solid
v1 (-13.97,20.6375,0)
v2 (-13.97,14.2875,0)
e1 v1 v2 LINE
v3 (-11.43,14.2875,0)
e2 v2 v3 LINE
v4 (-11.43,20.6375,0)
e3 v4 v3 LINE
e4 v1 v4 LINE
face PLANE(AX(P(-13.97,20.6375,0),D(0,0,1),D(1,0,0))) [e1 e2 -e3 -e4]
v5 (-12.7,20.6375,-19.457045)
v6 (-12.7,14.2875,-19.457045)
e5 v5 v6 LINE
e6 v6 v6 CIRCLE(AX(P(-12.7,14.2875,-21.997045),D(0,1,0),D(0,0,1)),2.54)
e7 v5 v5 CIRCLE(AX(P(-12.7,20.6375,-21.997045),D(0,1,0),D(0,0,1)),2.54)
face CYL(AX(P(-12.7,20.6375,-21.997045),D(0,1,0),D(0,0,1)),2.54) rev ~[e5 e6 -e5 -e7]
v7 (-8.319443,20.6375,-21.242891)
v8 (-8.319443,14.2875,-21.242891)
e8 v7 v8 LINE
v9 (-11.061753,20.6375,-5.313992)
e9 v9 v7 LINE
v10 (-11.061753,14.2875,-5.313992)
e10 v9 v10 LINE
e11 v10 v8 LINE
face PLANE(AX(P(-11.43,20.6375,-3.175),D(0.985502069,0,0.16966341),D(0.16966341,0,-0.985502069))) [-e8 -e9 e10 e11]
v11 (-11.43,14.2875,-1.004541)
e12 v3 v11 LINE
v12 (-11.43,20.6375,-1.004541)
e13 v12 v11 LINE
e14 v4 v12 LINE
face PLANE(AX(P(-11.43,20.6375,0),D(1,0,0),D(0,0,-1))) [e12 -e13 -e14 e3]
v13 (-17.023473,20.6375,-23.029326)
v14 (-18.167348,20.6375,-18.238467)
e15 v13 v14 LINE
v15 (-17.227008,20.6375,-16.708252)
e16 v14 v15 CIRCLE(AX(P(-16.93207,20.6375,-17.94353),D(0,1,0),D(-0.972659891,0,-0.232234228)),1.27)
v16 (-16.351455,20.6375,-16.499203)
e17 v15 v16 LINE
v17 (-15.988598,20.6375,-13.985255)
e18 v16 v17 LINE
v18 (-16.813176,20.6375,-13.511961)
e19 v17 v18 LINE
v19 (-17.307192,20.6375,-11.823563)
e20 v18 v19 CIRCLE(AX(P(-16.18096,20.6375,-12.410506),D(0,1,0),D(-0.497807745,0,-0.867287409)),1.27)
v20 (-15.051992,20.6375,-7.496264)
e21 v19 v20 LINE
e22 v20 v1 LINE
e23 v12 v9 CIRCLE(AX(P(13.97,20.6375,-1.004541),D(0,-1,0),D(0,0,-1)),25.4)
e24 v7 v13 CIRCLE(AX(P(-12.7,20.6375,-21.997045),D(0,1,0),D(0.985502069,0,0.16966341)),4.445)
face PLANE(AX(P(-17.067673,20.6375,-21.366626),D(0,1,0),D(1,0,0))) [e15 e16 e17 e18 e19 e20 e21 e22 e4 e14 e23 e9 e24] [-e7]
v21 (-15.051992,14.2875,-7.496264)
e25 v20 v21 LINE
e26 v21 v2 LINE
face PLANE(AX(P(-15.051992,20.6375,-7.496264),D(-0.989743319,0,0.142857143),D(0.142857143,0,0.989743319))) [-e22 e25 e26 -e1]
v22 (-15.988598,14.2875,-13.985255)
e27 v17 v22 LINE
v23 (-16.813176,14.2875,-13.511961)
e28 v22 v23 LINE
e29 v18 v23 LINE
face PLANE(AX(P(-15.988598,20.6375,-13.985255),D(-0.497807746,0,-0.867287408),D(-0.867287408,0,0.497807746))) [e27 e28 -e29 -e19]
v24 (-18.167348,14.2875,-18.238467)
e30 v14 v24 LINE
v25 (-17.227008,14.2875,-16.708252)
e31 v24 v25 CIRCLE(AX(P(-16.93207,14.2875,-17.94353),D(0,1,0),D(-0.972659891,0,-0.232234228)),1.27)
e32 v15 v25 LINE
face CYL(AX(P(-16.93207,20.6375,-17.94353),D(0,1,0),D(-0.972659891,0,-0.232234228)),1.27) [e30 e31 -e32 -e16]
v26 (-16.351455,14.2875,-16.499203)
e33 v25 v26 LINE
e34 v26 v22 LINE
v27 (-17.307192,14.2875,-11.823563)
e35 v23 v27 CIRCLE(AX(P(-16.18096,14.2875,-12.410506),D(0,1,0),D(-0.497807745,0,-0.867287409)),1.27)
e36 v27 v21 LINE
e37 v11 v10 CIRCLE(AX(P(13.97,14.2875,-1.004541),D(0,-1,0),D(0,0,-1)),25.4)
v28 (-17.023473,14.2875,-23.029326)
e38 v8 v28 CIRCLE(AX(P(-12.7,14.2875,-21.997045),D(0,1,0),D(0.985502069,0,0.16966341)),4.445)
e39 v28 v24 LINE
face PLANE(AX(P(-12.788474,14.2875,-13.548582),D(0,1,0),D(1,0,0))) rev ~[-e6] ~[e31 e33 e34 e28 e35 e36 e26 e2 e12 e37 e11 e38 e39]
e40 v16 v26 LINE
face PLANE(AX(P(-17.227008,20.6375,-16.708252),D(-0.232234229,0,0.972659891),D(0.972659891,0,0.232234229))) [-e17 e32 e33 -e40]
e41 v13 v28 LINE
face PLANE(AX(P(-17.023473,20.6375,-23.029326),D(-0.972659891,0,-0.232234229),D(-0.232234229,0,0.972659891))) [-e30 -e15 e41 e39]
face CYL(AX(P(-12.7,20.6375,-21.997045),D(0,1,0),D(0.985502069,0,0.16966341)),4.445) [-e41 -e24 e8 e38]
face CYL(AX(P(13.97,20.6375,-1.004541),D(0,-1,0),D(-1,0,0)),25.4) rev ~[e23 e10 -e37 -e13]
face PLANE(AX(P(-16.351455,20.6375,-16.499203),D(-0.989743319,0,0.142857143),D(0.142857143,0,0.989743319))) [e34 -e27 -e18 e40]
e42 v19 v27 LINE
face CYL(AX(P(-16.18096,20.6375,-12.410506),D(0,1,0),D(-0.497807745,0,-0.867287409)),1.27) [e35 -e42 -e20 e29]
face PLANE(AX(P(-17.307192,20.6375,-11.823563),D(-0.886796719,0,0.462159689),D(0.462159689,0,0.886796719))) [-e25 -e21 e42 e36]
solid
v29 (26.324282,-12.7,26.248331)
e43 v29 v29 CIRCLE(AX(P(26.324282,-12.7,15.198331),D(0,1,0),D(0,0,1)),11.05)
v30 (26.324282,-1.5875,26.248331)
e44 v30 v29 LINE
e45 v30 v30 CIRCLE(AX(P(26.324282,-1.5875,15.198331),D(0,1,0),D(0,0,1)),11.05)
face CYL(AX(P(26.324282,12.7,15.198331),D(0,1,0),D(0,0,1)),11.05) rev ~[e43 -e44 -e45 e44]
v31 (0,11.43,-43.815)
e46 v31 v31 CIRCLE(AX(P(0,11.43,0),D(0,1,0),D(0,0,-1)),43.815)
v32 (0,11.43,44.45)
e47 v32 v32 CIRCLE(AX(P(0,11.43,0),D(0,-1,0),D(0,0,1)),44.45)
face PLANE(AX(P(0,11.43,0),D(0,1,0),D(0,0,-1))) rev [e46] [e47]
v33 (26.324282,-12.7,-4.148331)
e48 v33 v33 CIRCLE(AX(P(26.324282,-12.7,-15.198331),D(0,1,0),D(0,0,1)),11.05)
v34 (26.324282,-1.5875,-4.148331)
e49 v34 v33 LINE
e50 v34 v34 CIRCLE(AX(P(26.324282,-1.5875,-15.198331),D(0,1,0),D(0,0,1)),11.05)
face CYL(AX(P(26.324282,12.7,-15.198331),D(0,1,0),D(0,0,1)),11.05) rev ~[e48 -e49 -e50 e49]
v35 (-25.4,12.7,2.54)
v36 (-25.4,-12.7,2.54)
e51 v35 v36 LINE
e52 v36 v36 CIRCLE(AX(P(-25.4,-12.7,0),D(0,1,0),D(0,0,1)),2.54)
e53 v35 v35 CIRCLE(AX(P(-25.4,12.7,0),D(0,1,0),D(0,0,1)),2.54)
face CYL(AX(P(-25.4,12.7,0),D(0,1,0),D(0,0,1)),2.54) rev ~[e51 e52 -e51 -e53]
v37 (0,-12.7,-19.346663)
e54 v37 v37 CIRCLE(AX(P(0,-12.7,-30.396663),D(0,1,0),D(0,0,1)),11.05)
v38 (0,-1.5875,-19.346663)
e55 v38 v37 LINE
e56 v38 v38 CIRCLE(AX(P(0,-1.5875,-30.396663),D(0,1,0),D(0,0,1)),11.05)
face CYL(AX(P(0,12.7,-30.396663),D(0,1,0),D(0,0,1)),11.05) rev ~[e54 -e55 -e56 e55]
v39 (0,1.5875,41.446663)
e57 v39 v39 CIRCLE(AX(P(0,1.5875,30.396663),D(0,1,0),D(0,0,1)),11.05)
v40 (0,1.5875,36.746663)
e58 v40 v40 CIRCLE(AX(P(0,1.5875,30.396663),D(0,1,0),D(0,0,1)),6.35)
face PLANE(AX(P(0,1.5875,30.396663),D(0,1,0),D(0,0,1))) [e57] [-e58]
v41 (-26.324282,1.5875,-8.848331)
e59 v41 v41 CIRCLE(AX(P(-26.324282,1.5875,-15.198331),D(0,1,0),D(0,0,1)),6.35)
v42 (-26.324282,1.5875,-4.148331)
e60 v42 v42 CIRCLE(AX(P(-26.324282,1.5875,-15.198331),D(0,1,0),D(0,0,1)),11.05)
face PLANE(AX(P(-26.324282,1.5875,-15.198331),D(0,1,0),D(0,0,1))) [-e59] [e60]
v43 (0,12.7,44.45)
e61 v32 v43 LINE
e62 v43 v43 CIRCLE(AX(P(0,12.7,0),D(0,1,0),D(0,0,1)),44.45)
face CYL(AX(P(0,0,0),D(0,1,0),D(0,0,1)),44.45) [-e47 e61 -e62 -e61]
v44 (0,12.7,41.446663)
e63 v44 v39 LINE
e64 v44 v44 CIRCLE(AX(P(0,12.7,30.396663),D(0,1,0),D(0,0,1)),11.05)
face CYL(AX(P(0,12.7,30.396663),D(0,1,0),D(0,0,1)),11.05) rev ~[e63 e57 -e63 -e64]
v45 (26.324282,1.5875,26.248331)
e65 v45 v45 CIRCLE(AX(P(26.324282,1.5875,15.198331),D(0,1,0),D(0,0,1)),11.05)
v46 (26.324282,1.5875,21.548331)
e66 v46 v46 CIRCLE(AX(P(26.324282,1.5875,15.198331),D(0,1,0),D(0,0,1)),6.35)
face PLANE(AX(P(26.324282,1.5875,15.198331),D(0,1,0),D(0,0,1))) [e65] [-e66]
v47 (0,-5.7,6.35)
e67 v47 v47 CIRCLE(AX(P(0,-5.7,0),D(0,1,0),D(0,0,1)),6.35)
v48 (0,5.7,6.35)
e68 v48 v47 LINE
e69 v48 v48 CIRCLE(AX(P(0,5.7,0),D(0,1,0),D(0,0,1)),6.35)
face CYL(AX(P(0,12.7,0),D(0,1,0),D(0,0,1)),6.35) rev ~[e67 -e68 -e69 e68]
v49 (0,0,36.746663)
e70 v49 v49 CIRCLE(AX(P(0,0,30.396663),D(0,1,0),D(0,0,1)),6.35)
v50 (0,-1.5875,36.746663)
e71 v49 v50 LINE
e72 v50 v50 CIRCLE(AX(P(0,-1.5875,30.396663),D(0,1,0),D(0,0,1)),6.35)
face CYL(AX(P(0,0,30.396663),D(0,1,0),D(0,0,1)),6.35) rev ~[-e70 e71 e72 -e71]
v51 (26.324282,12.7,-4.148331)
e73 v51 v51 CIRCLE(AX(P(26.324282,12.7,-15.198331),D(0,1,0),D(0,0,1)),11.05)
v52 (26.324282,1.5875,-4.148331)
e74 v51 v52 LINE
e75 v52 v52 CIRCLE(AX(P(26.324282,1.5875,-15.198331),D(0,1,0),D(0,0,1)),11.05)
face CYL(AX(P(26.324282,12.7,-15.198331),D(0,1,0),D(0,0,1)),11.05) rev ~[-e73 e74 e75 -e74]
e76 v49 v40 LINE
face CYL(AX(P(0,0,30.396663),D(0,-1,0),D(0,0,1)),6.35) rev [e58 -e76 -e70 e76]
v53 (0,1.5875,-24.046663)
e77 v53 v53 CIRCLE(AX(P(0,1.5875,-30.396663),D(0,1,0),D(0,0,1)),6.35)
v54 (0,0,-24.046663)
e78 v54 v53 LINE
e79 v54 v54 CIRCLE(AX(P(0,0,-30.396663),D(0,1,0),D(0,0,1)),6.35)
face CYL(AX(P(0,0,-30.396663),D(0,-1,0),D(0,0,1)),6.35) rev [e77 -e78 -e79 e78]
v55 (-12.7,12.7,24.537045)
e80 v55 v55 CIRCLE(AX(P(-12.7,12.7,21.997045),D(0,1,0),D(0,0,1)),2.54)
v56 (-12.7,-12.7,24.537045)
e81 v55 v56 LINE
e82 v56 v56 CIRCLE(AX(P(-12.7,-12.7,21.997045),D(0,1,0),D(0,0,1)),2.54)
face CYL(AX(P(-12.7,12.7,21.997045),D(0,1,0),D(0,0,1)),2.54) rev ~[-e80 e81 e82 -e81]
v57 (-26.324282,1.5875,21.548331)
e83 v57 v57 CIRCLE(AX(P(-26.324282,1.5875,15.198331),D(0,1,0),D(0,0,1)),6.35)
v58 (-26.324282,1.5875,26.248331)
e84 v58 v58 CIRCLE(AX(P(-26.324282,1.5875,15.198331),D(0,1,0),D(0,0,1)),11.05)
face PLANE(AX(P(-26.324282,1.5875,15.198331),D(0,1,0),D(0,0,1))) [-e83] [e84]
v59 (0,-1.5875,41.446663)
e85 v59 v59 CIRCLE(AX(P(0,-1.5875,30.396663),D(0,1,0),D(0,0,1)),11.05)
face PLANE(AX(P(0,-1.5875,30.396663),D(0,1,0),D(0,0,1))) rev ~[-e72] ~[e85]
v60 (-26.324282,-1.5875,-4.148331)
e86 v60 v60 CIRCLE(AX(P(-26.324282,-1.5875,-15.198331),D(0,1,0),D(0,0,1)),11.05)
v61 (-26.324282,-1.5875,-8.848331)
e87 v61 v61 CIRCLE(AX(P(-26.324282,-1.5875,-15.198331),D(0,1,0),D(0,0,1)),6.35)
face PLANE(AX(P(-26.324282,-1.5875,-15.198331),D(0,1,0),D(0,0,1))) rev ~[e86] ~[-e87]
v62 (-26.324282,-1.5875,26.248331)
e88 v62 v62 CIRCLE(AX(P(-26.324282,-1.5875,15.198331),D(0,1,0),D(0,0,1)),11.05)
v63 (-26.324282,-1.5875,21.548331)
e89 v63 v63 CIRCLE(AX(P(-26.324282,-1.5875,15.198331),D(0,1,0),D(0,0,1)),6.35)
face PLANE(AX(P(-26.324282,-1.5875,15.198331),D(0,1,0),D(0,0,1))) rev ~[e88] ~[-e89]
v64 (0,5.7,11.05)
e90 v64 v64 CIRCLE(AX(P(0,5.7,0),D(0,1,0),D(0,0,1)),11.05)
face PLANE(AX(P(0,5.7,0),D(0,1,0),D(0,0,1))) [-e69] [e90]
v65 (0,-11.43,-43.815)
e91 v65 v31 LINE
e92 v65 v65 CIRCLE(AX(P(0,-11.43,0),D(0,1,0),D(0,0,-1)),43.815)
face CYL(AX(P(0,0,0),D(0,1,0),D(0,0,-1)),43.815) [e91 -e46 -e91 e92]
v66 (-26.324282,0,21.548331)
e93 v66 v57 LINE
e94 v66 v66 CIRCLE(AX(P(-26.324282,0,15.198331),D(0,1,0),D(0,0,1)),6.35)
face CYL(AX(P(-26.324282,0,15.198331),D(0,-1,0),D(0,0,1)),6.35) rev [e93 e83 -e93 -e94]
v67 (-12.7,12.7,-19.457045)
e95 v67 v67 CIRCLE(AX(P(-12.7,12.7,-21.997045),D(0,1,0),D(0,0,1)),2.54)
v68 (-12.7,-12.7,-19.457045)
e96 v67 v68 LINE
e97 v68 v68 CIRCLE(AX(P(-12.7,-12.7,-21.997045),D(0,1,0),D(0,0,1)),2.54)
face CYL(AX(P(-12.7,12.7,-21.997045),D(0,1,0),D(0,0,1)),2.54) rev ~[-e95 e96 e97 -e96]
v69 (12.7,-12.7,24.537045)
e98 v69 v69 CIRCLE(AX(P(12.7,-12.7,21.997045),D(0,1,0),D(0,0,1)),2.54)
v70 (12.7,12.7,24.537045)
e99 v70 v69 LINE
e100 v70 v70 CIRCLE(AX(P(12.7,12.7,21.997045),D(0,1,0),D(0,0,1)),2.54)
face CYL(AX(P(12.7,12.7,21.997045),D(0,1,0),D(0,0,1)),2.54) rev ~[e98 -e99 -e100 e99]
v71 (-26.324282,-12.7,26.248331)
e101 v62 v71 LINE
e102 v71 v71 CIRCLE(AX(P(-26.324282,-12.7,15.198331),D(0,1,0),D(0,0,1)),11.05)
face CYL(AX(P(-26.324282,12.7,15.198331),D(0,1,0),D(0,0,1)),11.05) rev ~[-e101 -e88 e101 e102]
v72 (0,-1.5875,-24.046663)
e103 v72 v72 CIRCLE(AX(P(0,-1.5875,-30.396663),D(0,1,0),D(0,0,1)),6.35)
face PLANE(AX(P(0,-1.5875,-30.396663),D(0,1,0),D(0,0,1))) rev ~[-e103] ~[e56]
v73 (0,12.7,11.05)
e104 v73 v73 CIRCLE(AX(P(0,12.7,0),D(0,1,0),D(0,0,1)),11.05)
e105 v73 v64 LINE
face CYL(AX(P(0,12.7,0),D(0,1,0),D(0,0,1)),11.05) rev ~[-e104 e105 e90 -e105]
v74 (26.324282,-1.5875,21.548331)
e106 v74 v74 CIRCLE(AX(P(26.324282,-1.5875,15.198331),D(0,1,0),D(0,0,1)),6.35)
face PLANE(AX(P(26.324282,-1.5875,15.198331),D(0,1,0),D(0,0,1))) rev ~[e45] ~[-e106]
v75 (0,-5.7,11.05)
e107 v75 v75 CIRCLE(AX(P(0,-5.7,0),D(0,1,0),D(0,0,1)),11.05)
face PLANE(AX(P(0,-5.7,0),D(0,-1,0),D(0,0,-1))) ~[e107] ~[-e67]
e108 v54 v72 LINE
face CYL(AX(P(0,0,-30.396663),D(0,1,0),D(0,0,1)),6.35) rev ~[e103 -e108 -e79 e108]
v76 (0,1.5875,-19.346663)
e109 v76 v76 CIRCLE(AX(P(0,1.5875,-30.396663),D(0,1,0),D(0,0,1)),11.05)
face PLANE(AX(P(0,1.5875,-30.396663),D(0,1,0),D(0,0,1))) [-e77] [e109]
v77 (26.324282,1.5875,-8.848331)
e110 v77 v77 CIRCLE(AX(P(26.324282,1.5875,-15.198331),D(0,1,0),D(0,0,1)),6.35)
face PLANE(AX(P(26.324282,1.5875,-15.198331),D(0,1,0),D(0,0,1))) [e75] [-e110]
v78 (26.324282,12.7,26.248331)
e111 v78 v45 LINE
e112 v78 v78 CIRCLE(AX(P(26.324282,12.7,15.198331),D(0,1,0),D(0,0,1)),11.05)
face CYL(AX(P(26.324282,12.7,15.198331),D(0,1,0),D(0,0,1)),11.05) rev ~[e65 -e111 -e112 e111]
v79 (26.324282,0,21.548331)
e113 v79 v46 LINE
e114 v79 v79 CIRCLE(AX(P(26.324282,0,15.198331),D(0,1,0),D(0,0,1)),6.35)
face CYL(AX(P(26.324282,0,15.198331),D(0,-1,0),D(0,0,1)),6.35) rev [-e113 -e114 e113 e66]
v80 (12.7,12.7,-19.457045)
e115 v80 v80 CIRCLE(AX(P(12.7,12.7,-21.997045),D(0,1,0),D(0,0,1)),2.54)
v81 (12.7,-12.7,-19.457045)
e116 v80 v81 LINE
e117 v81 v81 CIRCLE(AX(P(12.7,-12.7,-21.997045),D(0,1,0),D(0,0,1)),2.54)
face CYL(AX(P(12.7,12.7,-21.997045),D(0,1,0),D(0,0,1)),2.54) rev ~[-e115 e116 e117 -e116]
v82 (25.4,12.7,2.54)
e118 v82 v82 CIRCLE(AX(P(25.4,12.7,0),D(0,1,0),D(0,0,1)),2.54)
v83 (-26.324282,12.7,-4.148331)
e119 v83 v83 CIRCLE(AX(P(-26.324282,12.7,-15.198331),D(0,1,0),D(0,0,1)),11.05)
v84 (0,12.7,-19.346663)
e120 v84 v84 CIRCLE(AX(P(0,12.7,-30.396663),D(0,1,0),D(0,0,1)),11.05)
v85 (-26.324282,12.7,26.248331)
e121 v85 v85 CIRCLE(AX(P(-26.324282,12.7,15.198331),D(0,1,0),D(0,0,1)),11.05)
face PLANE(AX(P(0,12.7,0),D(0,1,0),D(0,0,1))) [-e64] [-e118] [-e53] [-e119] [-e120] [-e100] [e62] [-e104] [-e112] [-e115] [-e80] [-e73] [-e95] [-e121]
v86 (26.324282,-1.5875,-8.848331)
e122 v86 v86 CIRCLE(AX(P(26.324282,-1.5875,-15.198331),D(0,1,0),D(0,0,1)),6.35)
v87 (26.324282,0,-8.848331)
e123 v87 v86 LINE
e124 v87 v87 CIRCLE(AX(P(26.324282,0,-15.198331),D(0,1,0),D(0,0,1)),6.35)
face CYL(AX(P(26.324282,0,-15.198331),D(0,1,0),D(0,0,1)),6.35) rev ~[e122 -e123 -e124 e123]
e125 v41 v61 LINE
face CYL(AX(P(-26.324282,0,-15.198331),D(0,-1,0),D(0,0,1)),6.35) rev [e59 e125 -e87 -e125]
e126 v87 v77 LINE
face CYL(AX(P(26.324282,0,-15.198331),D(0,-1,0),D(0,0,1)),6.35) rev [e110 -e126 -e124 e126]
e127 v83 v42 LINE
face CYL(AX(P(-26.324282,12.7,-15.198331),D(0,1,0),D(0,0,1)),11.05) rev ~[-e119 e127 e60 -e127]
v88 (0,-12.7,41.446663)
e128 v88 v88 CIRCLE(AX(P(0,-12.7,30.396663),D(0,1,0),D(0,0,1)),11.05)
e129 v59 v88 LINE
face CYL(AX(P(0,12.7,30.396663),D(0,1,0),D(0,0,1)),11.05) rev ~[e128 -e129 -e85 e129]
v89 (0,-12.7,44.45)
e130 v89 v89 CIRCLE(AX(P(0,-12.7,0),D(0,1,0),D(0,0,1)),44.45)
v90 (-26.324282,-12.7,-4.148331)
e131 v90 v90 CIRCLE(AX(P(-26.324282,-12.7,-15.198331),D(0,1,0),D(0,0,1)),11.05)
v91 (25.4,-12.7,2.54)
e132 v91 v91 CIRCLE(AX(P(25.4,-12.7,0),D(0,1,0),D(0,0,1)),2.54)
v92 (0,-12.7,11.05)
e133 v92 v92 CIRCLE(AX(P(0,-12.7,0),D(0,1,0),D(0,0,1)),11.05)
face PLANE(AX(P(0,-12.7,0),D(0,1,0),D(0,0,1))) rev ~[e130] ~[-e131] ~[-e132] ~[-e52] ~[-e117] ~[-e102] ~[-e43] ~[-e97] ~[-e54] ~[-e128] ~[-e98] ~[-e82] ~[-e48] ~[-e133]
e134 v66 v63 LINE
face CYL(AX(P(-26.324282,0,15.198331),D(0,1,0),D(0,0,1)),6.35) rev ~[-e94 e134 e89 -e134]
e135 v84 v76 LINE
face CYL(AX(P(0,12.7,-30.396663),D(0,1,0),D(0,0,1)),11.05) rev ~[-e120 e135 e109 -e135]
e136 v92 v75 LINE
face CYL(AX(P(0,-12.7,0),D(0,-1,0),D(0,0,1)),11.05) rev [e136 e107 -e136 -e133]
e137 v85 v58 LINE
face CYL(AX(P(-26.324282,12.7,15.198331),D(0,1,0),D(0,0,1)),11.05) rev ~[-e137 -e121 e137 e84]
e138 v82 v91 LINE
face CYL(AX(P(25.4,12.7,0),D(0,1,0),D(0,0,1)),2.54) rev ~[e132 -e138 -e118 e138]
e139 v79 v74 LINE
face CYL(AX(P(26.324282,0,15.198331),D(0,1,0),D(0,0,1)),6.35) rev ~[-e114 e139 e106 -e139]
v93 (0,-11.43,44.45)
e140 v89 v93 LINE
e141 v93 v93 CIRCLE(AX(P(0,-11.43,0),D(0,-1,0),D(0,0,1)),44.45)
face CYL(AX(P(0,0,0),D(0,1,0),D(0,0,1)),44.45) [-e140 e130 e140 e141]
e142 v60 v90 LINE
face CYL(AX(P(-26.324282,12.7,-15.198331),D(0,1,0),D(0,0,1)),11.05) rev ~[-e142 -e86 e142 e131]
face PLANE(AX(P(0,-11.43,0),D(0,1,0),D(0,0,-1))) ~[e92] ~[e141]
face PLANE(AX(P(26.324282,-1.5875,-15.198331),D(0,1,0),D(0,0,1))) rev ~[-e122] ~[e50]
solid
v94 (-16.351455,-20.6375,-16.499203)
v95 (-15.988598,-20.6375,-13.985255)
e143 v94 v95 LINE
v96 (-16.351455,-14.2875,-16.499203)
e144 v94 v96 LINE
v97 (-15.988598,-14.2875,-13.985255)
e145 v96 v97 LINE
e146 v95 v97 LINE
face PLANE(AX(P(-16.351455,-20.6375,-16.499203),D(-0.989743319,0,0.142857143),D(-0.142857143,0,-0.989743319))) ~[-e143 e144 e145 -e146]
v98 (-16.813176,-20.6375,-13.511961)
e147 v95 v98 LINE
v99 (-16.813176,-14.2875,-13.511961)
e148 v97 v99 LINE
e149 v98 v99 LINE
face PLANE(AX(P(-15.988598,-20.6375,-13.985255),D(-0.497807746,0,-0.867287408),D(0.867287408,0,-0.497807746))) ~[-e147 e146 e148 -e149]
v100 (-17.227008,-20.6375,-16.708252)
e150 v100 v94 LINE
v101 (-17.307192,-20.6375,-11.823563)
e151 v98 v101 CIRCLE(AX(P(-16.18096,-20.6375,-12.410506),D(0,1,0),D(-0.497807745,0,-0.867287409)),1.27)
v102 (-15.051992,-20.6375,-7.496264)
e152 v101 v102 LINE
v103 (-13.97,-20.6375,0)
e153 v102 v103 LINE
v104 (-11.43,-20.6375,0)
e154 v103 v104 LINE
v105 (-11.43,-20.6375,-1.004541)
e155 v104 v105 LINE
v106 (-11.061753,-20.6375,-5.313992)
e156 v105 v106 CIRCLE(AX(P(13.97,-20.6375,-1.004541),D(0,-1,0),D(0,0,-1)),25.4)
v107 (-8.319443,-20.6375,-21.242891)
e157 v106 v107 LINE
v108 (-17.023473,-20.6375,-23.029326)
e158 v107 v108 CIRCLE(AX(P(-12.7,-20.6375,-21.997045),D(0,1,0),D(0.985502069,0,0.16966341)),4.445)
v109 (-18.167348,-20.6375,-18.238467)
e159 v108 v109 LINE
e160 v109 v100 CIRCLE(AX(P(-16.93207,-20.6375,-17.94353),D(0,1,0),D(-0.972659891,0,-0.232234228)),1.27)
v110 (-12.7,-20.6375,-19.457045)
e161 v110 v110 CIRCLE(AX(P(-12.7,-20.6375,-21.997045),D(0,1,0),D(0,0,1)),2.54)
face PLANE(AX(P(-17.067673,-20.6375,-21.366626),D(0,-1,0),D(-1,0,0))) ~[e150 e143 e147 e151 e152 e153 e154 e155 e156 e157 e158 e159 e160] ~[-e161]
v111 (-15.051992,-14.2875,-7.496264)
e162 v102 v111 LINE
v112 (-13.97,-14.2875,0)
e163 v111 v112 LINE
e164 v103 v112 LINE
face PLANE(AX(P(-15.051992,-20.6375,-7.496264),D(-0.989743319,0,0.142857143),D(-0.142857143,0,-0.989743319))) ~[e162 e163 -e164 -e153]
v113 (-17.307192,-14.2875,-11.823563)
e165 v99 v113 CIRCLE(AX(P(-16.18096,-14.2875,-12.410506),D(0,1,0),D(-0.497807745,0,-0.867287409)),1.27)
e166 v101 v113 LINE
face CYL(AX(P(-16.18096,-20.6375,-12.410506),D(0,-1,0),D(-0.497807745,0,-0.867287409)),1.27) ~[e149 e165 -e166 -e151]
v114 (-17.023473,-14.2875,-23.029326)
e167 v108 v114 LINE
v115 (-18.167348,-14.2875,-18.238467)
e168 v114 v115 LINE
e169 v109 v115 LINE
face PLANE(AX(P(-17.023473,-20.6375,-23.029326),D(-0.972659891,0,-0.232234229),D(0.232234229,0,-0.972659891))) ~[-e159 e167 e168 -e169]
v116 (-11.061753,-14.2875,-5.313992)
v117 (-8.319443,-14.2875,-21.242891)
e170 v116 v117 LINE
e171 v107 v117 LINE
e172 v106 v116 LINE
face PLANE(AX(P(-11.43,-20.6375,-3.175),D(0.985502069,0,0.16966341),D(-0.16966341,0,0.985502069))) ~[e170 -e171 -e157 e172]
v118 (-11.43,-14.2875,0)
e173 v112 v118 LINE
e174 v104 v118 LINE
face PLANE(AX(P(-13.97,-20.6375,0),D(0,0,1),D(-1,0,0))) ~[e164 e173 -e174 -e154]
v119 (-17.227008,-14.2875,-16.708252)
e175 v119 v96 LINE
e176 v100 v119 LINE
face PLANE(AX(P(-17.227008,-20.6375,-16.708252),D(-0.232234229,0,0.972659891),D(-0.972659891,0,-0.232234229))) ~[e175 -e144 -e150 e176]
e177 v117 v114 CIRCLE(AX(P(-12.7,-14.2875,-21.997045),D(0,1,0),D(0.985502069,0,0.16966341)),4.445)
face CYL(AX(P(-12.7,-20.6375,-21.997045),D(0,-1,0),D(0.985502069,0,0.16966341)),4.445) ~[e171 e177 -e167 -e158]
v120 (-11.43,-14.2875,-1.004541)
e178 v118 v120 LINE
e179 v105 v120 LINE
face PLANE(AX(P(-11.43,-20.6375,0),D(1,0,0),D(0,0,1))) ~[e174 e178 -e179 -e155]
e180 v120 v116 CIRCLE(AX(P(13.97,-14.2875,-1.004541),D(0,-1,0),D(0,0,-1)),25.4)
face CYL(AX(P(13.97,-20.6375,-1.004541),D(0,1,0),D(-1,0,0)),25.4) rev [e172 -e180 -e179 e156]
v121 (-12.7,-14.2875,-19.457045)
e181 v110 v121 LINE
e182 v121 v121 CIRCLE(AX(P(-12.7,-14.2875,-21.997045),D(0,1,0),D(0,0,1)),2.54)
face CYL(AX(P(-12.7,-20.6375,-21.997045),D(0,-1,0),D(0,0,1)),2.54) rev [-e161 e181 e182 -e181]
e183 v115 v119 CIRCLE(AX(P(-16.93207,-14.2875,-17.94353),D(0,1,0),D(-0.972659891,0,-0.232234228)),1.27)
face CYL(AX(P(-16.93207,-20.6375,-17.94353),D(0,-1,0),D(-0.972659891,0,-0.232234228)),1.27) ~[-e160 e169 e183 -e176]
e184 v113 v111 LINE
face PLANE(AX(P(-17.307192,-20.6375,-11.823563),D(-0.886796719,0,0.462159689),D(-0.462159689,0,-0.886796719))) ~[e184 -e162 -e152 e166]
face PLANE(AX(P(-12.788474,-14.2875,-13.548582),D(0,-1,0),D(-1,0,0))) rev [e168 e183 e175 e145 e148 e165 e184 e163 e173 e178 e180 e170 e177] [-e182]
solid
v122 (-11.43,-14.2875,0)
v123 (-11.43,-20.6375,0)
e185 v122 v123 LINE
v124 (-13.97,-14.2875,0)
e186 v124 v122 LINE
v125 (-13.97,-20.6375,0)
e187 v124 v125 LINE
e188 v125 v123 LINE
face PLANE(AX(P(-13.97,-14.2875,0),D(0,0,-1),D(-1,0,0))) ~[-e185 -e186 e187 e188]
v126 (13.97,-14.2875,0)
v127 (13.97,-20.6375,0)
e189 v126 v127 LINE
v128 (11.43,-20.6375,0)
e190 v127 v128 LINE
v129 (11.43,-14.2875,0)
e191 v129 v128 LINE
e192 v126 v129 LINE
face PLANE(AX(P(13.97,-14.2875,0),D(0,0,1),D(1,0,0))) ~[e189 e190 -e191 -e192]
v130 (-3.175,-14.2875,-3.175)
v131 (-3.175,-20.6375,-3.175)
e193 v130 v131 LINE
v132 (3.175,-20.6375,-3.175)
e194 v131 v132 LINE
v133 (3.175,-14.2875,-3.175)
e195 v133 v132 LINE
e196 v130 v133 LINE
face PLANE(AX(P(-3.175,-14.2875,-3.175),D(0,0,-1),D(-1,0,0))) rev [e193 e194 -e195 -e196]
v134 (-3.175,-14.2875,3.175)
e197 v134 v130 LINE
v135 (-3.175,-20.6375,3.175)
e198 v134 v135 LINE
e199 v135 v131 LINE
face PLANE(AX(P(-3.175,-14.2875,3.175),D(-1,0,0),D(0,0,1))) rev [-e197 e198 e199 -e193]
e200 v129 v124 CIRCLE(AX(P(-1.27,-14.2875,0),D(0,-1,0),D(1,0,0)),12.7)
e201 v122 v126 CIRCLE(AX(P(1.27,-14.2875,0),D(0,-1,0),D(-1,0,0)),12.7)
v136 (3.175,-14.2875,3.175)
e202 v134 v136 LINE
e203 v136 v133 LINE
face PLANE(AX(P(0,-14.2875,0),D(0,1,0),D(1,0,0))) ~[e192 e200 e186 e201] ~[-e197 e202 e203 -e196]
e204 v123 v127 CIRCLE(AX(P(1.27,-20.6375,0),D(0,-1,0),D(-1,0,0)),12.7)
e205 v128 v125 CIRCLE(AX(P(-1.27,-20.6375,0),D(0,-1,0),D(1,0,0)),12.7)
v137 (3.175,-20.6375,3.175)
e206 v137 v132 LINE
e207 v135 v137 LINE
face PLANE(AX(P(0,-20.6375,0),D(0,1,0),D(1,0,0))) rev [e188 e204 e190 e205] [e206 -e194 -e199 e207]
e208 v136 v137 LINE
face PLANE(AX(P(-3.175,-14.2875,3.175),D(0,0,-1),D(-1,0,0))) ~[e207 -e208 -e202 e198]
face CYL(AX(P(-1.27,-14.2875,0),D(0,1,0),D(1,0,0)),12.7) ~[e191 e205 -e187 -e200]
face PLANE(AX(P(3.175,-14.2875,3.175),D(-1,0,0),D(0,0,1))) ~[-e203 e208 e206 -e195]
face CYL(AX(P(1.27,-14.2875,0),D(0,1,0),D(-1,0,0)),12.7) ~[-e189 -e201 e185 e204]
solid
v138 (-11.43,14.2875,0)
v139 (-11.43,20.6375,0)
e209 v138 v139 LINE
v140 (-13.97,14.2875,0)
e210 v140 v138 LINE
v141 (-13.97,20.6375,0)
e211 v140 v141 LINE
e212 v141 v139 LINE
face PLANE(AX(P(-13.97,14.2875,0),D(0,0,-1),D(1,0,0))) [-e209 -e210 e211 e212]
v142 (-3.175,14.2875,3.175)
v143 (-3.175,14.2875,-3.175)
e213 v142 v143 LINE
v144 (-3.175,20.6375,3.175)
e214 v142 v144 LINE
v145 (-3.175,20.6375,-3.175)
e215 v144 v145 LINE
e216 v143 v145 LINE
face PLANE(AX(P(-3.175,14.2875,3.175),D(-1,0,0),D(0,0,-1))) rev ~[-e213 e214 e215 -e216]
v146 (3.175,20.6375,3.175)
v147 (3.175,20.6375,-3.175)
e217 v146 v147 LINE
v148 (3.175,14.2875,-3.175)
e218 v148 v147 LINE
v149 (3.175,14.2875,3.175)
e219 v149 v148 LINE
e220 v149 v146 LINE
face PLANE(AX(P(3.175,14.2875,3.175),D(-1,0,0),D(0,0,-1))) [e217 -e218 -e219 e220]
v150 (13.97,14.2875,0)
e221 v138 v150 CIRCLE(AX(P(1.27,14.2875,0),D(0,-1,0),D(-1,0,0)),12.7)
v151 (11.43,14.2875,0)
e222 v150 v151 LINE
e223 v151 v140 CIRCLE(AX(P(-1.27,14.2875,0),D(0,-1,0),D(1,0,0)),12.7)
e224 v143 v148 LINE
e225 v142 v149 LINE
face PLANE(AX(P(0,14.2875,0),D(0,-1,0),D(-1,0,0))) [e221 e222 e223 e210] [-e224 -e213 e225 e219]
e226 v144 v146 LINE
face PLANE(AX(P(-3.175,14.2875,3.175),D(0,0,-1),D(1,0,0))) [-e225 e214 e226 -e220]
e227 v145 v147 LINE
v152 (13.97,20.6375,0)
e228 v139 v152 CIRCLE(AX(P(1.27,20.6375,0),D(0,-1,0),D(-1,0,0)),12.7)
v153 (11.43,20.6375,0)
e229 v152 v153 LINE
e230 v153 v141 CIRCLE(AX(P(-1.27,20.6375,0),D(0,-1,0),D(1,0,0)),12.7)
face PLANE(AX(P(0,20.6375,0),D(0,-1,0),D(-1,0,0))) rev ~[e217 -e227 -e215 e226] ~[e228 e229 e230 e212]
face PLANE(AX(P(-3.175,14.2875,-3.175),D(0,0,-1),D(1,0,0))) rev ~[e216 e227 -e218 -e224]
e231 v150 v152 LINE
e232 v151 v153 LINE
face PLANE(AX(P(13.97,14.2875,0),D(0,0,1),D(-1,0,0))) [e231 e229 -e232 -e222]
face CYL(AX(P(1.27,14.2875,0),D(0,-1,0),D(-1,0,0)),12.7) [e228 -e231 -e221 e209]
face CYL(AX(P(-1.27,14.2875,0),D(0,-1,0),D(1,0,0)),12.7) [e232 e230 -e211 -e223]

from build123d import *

# Parameters (mm, degrees)
SKETCH1_R           = 44.45
BOSS_EXTRUDE1_DEPTH = 12.7
SKETCH2_R           = 11.05
CUT_EXTRUDE1_DEPTH  = 25.4
SKETCH3_R           = 11.05
SKETCH3_R_2         = 6.35
BOSS_EXTRUDE2_DEPTH = 1.5875
SKETCH4_R           = 11.05
SKETCH4_R_2         = 6.35
CUT_EXTRUDE2_DEPTH  = 7
SKETCH4_2_R         = 6.35
CUT_EXTRUDE3_DEPTH  = 30.622
SKETCH7_W           = 6.35
SKETCH7_H           = 6.35
BOSS_EXTRUDE3_DEPTH = 6.35
SKETCH8_R           = 2.54
BOSS_EXTRUDE4_DEPTH = 6.35
FILLET1_R           = 25.4
SKETCH9_R           = 2.54
CUT_EXTRUDE5_DEPTH  = 72.154718088
SKETCH10_W          = 0.635
SKETCH10_H          = 22.86


with BuildPart() as part:
    # Sketch1 → Boss-Extrude1 (new, symmetric)
    with BuildSketch(Plane(origin=(0, 0, 0), x_dir=(1, 0, 0), z_dir=(0, 1, 0))):
        Circle(SKETCH1_R)
    extrude(amount=BOSS_EXTRUDE1_DEPTH, both=True)

    # Sketch2 → Cut-Extrude1 (cut)
    with BuildSketch(Plane(origin=(0, 12.7, 0), x_dir=(1, 0, 0), z_dir=(0, 1, 0))):
        with Locations((0, 30.396662632)):
            Circle(SKETCH2_R)
        with Locations((26.32428203, 15.198331316)):
            Circle(SKETCH2_R)
        with Locations((26.32428203, -15.198331316)):
            Circle(SKETCH2_R)
        with Locations((0, -30.396662632)):
            Circle(SKETCH2_R)
        with Locations((-26.32428203, -15.198331316)):
            Circle(SKETCH2_R)
        with Locations((-26.32428203, 15.198331316)):
            Circle(SKETCH2_R)
    extrude(amount=-CUT_EXTRUDE1_DEPTH, mode=Mode.SUBTRACT)

    # Sketch3 → Boss-Extrude2 (add, symmetric)
    # profile 1 of 6: a face of its own
    with BuildSketch(Plane(origin=(0, 0, 0), x_dir=(1, 0, 0), z_dir=(0, 1, 0))):
        with Locations((-26.32428203, -15.198331316)):
            Circle(SKETCH3_R)
        with Locations((-26.32428203, -15.198331316)):
            Circle(SKETCH3_R_2, mode=Mode.SUBTRACT)
    # profile 2 of 6: a face of its own
    with BuildSketch(Plane(origin=(0, 0, 0), x_dir=(1, 0, 0), z_dir=(0, 1, 0))):
        with Locations((0, -30.396662632)):
            Circle(SKETCH3_R)
        with Locations((0, -30.396662632)):
            Circle(SKETCH3_R_2, mode=Mode.SUBTRACT)
    # profile 3 of 6: a face of its own
    with BuildSketch(Plane(origin=(0, 0, 0), x_dir=(1, 0, 0), z_dir=(0, 1, 0))):
        with Locations((26.32428203, -15.198331316)):
            Circle(SKETCH3_R)
        with Locations((26.32428203, -15.198331316)):
            Circle(SKETCH3_R_2, mode=Mode.SUBTRACT)
    # profile 4 of 6: a face of its own
    with BuildSketch(Plane(origin=(0, 0, 0), x_dir=(1, 0, 0), z_dir=(0, 1, 0))):
        with Locations((26.32428203, 15.198331316)):
            Circle(SKETCH3_R)
        with Locations((26.32428203, 15.198331316)):
            Circle(SKETCH3_R_2, mode=Mode.SUBTRACT)
    # profile 5 of 6: a face of its own
    with BuildSketch(Plane(origin=(0, 0, 0), x_dir=(1, 0, 0), z_dir=(0, 1, 0))):
        with Locations((0, 30.396662632)):
            Circle(SKETCH3_R)
        with Locations((0, 30.396662632)):
            Circle(SKETCH3_R_2, mode=Mode.SUBTRACT)
    # profile 6 of 6: a face of its own
    with BuildSketch(Plane(origin=(0, 0, 0), x_dir=(1, 0, 0), z_dir=(0, 1, 0))):
        with Locations((-26.32428203, 15.198331316)):
            Circle(SKETCH3_R)
        with Locations((-26.32428203, 15.198331316)):
            Circle(SKETCH3_R_2, mode=Mode.SUBTRACT)
    extrude(amount=BOSS_EXTRUDE2_DEPTH, both=True)

    # Sketch4 → Cut-Extrude2 (cut)
    with BuildSketch(Plane(origin=(0, 12.7, 0), x_dir=(1, 0, 0), z_dir=(0, 1, 0))):
        Circle(SKETCH4_R)
        Circle(SKETCH4_R_2, mode=Mode.SUBTRACT)
    cut_extrude2 = extrude(amount=-CUT_EXTRUDE2_DEPTH, mode=Mode.SUBTRACT)

    # Sketch4<2> → Cut-Extrude3 (cut)
    with BuildSketch(Plane(origin=(0, 12.7, 0), x_dir=(1, 0, 0), z_dir=(0, 1, 0))):
        Circle(SKETCH4_2_R)
    extrude(amount=-CUT_EXTRUDE3_DEPTH, mode=Mode.SUBTRACT)

    # Mirror1: Cut-Extrude2 across plane
    add(cut_extrude2.mirror(Plane.ZX), mode=Mode.SUBTRACT)

    # Sketch9 → Cut-Extrude5 (cut, through all)
    with BuildSketch(Plane(origin=(0, 12.7, 0), x_dir=(1, 0, 0), z_dir=(0, 1, 0))):
        with Locations((-12.7, 21.997045256)):
            Circle(SKETCH9_R)
        with Locations((12.7, 21.997045256)):
            Circle(SKETCH9_R)
        with Locations((25.4, 0)):
            Circle(SKETCH9_R)
        with Locations((12.7, -21.997045256)):
            Circle(SKETCH9_R)
        with Locations((-12.7, -21.997045256)):
            Circle(SKETCH9_R)
        with Locations((-25.4, 0)):
            Circle(SKETCH9_R)
    extrude(amount=-CUT_EXTRUDE5_DEPTH, mode=Mode.SUBTRACT)

    # Sketch10 → Cut-Revolve1 (revolve, cut)
    with BuildSketch(Plane(origin=(0, 0, 0), x_dir=(0, 0, -1), z_dir=(1, 0, 0))):
        with Locations((44.1325, 0)):
            Rectangle(SKETCH10_W, SKETCH10_H)
    revolve(axis=Axis((0, 0, 0), (0, 1, 0)), mode=Mode.SUBTRACT)


with BuildPart() as body_2:
    # Sketch7 → Boss-Extrude3 (new body)
    with BuildSketch(Plane(origin=(0, 14.2875, 0), x_dir=(1, 0, 0), z_dir=(0, 1, 0))):
        with BuildLine():
            Line((-13.97, 0), (-11.43, 0))
            ThreePointArc((-11.43, 0), (1.27, 12.7), (13.97, 0))
            Line((13.97, 0), (11.43, 0))
            ThreePointArc((11.43, 0), (-1.27, -12.7), (-13.97, 0))
        make_face()
        Rectangle(SKETCH7_W, SKETCH7_H, mode=Mode.SUBTRACT)
    extrude(amount=BOSS_EXTRUDE3_DEPTH)


with BuildPart() as body_3:
    # Mirror3: mirrored copy
    add(body_2.part.mirror(Plane.ZX))


with BuildPart() as body_4:
    # Sketch8 → Boss-Extrude4 (new body)
    with BuildSketch(Plane(origin=(0, 20.6375, 0), x_dir=(1, 0, 0), z_dir=(0, 1, 0))):
        with BuildLine():
            Line((-13.97, 0), (-11.43, 0))
            Line((-11.43, 0), (-11.43, 3.175))
            Line((-11.43, 3.175), (-8.319443305, 21.242891401))
            ThreePointArc((-8.319443305, 21.242891401), (-11.806326606, 26.351281454), (-17.023473214, 23.029326403))
            Line((-17.023473214, 23.029326403), (-18.167348398, 18.238467115))
            ThreePointArc((-18.167348398, 18.238467115), (-18.014096116, 17.278608437), (-17.227007807, 16.708251584))
            Line((-17.227007807, 16.708251584), (-16.351454793, 16.499202788))
            Line((-16.351454793, 16.499202788), (-15.98859765, 13.985254759))
            Line((-15.98859765, 13.985254759), (-16.813175965, 13.511961282))
            ThreePointArc((-16.813175965, 13.511961282), (-17.399855672, 12.767148466), (-17.307191961, 11.823563469))
            Line((-17.307191961, 11.823563469), (-15.051992467, 7.496263708))
            Line((-15.051992467, 7.496263708), (-13.97, 0))
        make_face()
        with Locations((-12.7, 21.997045256)):
            Circle(SKETCH8_R, mode=Mode.SUBTRACT)
    extrude(amount=-BOSS_EXTRUDE4_DEPTH)

    # Fillet1
    fillet1_edges = [body_4.edges().sort_by_distance(p)[0] for p in [
        (-11.43, 17.4625, -3.175),
    ]]
    fillet(fillet1_edges, radius=FILLET1_R)


with BuildPart() as body_5:
    # Mirror4: mirrored copy
    add(body_4.part.mirror(Plane.ZX))


solid = Compound([part.part, body_2.part, body_3.part, body_4.part, body_5.part])
